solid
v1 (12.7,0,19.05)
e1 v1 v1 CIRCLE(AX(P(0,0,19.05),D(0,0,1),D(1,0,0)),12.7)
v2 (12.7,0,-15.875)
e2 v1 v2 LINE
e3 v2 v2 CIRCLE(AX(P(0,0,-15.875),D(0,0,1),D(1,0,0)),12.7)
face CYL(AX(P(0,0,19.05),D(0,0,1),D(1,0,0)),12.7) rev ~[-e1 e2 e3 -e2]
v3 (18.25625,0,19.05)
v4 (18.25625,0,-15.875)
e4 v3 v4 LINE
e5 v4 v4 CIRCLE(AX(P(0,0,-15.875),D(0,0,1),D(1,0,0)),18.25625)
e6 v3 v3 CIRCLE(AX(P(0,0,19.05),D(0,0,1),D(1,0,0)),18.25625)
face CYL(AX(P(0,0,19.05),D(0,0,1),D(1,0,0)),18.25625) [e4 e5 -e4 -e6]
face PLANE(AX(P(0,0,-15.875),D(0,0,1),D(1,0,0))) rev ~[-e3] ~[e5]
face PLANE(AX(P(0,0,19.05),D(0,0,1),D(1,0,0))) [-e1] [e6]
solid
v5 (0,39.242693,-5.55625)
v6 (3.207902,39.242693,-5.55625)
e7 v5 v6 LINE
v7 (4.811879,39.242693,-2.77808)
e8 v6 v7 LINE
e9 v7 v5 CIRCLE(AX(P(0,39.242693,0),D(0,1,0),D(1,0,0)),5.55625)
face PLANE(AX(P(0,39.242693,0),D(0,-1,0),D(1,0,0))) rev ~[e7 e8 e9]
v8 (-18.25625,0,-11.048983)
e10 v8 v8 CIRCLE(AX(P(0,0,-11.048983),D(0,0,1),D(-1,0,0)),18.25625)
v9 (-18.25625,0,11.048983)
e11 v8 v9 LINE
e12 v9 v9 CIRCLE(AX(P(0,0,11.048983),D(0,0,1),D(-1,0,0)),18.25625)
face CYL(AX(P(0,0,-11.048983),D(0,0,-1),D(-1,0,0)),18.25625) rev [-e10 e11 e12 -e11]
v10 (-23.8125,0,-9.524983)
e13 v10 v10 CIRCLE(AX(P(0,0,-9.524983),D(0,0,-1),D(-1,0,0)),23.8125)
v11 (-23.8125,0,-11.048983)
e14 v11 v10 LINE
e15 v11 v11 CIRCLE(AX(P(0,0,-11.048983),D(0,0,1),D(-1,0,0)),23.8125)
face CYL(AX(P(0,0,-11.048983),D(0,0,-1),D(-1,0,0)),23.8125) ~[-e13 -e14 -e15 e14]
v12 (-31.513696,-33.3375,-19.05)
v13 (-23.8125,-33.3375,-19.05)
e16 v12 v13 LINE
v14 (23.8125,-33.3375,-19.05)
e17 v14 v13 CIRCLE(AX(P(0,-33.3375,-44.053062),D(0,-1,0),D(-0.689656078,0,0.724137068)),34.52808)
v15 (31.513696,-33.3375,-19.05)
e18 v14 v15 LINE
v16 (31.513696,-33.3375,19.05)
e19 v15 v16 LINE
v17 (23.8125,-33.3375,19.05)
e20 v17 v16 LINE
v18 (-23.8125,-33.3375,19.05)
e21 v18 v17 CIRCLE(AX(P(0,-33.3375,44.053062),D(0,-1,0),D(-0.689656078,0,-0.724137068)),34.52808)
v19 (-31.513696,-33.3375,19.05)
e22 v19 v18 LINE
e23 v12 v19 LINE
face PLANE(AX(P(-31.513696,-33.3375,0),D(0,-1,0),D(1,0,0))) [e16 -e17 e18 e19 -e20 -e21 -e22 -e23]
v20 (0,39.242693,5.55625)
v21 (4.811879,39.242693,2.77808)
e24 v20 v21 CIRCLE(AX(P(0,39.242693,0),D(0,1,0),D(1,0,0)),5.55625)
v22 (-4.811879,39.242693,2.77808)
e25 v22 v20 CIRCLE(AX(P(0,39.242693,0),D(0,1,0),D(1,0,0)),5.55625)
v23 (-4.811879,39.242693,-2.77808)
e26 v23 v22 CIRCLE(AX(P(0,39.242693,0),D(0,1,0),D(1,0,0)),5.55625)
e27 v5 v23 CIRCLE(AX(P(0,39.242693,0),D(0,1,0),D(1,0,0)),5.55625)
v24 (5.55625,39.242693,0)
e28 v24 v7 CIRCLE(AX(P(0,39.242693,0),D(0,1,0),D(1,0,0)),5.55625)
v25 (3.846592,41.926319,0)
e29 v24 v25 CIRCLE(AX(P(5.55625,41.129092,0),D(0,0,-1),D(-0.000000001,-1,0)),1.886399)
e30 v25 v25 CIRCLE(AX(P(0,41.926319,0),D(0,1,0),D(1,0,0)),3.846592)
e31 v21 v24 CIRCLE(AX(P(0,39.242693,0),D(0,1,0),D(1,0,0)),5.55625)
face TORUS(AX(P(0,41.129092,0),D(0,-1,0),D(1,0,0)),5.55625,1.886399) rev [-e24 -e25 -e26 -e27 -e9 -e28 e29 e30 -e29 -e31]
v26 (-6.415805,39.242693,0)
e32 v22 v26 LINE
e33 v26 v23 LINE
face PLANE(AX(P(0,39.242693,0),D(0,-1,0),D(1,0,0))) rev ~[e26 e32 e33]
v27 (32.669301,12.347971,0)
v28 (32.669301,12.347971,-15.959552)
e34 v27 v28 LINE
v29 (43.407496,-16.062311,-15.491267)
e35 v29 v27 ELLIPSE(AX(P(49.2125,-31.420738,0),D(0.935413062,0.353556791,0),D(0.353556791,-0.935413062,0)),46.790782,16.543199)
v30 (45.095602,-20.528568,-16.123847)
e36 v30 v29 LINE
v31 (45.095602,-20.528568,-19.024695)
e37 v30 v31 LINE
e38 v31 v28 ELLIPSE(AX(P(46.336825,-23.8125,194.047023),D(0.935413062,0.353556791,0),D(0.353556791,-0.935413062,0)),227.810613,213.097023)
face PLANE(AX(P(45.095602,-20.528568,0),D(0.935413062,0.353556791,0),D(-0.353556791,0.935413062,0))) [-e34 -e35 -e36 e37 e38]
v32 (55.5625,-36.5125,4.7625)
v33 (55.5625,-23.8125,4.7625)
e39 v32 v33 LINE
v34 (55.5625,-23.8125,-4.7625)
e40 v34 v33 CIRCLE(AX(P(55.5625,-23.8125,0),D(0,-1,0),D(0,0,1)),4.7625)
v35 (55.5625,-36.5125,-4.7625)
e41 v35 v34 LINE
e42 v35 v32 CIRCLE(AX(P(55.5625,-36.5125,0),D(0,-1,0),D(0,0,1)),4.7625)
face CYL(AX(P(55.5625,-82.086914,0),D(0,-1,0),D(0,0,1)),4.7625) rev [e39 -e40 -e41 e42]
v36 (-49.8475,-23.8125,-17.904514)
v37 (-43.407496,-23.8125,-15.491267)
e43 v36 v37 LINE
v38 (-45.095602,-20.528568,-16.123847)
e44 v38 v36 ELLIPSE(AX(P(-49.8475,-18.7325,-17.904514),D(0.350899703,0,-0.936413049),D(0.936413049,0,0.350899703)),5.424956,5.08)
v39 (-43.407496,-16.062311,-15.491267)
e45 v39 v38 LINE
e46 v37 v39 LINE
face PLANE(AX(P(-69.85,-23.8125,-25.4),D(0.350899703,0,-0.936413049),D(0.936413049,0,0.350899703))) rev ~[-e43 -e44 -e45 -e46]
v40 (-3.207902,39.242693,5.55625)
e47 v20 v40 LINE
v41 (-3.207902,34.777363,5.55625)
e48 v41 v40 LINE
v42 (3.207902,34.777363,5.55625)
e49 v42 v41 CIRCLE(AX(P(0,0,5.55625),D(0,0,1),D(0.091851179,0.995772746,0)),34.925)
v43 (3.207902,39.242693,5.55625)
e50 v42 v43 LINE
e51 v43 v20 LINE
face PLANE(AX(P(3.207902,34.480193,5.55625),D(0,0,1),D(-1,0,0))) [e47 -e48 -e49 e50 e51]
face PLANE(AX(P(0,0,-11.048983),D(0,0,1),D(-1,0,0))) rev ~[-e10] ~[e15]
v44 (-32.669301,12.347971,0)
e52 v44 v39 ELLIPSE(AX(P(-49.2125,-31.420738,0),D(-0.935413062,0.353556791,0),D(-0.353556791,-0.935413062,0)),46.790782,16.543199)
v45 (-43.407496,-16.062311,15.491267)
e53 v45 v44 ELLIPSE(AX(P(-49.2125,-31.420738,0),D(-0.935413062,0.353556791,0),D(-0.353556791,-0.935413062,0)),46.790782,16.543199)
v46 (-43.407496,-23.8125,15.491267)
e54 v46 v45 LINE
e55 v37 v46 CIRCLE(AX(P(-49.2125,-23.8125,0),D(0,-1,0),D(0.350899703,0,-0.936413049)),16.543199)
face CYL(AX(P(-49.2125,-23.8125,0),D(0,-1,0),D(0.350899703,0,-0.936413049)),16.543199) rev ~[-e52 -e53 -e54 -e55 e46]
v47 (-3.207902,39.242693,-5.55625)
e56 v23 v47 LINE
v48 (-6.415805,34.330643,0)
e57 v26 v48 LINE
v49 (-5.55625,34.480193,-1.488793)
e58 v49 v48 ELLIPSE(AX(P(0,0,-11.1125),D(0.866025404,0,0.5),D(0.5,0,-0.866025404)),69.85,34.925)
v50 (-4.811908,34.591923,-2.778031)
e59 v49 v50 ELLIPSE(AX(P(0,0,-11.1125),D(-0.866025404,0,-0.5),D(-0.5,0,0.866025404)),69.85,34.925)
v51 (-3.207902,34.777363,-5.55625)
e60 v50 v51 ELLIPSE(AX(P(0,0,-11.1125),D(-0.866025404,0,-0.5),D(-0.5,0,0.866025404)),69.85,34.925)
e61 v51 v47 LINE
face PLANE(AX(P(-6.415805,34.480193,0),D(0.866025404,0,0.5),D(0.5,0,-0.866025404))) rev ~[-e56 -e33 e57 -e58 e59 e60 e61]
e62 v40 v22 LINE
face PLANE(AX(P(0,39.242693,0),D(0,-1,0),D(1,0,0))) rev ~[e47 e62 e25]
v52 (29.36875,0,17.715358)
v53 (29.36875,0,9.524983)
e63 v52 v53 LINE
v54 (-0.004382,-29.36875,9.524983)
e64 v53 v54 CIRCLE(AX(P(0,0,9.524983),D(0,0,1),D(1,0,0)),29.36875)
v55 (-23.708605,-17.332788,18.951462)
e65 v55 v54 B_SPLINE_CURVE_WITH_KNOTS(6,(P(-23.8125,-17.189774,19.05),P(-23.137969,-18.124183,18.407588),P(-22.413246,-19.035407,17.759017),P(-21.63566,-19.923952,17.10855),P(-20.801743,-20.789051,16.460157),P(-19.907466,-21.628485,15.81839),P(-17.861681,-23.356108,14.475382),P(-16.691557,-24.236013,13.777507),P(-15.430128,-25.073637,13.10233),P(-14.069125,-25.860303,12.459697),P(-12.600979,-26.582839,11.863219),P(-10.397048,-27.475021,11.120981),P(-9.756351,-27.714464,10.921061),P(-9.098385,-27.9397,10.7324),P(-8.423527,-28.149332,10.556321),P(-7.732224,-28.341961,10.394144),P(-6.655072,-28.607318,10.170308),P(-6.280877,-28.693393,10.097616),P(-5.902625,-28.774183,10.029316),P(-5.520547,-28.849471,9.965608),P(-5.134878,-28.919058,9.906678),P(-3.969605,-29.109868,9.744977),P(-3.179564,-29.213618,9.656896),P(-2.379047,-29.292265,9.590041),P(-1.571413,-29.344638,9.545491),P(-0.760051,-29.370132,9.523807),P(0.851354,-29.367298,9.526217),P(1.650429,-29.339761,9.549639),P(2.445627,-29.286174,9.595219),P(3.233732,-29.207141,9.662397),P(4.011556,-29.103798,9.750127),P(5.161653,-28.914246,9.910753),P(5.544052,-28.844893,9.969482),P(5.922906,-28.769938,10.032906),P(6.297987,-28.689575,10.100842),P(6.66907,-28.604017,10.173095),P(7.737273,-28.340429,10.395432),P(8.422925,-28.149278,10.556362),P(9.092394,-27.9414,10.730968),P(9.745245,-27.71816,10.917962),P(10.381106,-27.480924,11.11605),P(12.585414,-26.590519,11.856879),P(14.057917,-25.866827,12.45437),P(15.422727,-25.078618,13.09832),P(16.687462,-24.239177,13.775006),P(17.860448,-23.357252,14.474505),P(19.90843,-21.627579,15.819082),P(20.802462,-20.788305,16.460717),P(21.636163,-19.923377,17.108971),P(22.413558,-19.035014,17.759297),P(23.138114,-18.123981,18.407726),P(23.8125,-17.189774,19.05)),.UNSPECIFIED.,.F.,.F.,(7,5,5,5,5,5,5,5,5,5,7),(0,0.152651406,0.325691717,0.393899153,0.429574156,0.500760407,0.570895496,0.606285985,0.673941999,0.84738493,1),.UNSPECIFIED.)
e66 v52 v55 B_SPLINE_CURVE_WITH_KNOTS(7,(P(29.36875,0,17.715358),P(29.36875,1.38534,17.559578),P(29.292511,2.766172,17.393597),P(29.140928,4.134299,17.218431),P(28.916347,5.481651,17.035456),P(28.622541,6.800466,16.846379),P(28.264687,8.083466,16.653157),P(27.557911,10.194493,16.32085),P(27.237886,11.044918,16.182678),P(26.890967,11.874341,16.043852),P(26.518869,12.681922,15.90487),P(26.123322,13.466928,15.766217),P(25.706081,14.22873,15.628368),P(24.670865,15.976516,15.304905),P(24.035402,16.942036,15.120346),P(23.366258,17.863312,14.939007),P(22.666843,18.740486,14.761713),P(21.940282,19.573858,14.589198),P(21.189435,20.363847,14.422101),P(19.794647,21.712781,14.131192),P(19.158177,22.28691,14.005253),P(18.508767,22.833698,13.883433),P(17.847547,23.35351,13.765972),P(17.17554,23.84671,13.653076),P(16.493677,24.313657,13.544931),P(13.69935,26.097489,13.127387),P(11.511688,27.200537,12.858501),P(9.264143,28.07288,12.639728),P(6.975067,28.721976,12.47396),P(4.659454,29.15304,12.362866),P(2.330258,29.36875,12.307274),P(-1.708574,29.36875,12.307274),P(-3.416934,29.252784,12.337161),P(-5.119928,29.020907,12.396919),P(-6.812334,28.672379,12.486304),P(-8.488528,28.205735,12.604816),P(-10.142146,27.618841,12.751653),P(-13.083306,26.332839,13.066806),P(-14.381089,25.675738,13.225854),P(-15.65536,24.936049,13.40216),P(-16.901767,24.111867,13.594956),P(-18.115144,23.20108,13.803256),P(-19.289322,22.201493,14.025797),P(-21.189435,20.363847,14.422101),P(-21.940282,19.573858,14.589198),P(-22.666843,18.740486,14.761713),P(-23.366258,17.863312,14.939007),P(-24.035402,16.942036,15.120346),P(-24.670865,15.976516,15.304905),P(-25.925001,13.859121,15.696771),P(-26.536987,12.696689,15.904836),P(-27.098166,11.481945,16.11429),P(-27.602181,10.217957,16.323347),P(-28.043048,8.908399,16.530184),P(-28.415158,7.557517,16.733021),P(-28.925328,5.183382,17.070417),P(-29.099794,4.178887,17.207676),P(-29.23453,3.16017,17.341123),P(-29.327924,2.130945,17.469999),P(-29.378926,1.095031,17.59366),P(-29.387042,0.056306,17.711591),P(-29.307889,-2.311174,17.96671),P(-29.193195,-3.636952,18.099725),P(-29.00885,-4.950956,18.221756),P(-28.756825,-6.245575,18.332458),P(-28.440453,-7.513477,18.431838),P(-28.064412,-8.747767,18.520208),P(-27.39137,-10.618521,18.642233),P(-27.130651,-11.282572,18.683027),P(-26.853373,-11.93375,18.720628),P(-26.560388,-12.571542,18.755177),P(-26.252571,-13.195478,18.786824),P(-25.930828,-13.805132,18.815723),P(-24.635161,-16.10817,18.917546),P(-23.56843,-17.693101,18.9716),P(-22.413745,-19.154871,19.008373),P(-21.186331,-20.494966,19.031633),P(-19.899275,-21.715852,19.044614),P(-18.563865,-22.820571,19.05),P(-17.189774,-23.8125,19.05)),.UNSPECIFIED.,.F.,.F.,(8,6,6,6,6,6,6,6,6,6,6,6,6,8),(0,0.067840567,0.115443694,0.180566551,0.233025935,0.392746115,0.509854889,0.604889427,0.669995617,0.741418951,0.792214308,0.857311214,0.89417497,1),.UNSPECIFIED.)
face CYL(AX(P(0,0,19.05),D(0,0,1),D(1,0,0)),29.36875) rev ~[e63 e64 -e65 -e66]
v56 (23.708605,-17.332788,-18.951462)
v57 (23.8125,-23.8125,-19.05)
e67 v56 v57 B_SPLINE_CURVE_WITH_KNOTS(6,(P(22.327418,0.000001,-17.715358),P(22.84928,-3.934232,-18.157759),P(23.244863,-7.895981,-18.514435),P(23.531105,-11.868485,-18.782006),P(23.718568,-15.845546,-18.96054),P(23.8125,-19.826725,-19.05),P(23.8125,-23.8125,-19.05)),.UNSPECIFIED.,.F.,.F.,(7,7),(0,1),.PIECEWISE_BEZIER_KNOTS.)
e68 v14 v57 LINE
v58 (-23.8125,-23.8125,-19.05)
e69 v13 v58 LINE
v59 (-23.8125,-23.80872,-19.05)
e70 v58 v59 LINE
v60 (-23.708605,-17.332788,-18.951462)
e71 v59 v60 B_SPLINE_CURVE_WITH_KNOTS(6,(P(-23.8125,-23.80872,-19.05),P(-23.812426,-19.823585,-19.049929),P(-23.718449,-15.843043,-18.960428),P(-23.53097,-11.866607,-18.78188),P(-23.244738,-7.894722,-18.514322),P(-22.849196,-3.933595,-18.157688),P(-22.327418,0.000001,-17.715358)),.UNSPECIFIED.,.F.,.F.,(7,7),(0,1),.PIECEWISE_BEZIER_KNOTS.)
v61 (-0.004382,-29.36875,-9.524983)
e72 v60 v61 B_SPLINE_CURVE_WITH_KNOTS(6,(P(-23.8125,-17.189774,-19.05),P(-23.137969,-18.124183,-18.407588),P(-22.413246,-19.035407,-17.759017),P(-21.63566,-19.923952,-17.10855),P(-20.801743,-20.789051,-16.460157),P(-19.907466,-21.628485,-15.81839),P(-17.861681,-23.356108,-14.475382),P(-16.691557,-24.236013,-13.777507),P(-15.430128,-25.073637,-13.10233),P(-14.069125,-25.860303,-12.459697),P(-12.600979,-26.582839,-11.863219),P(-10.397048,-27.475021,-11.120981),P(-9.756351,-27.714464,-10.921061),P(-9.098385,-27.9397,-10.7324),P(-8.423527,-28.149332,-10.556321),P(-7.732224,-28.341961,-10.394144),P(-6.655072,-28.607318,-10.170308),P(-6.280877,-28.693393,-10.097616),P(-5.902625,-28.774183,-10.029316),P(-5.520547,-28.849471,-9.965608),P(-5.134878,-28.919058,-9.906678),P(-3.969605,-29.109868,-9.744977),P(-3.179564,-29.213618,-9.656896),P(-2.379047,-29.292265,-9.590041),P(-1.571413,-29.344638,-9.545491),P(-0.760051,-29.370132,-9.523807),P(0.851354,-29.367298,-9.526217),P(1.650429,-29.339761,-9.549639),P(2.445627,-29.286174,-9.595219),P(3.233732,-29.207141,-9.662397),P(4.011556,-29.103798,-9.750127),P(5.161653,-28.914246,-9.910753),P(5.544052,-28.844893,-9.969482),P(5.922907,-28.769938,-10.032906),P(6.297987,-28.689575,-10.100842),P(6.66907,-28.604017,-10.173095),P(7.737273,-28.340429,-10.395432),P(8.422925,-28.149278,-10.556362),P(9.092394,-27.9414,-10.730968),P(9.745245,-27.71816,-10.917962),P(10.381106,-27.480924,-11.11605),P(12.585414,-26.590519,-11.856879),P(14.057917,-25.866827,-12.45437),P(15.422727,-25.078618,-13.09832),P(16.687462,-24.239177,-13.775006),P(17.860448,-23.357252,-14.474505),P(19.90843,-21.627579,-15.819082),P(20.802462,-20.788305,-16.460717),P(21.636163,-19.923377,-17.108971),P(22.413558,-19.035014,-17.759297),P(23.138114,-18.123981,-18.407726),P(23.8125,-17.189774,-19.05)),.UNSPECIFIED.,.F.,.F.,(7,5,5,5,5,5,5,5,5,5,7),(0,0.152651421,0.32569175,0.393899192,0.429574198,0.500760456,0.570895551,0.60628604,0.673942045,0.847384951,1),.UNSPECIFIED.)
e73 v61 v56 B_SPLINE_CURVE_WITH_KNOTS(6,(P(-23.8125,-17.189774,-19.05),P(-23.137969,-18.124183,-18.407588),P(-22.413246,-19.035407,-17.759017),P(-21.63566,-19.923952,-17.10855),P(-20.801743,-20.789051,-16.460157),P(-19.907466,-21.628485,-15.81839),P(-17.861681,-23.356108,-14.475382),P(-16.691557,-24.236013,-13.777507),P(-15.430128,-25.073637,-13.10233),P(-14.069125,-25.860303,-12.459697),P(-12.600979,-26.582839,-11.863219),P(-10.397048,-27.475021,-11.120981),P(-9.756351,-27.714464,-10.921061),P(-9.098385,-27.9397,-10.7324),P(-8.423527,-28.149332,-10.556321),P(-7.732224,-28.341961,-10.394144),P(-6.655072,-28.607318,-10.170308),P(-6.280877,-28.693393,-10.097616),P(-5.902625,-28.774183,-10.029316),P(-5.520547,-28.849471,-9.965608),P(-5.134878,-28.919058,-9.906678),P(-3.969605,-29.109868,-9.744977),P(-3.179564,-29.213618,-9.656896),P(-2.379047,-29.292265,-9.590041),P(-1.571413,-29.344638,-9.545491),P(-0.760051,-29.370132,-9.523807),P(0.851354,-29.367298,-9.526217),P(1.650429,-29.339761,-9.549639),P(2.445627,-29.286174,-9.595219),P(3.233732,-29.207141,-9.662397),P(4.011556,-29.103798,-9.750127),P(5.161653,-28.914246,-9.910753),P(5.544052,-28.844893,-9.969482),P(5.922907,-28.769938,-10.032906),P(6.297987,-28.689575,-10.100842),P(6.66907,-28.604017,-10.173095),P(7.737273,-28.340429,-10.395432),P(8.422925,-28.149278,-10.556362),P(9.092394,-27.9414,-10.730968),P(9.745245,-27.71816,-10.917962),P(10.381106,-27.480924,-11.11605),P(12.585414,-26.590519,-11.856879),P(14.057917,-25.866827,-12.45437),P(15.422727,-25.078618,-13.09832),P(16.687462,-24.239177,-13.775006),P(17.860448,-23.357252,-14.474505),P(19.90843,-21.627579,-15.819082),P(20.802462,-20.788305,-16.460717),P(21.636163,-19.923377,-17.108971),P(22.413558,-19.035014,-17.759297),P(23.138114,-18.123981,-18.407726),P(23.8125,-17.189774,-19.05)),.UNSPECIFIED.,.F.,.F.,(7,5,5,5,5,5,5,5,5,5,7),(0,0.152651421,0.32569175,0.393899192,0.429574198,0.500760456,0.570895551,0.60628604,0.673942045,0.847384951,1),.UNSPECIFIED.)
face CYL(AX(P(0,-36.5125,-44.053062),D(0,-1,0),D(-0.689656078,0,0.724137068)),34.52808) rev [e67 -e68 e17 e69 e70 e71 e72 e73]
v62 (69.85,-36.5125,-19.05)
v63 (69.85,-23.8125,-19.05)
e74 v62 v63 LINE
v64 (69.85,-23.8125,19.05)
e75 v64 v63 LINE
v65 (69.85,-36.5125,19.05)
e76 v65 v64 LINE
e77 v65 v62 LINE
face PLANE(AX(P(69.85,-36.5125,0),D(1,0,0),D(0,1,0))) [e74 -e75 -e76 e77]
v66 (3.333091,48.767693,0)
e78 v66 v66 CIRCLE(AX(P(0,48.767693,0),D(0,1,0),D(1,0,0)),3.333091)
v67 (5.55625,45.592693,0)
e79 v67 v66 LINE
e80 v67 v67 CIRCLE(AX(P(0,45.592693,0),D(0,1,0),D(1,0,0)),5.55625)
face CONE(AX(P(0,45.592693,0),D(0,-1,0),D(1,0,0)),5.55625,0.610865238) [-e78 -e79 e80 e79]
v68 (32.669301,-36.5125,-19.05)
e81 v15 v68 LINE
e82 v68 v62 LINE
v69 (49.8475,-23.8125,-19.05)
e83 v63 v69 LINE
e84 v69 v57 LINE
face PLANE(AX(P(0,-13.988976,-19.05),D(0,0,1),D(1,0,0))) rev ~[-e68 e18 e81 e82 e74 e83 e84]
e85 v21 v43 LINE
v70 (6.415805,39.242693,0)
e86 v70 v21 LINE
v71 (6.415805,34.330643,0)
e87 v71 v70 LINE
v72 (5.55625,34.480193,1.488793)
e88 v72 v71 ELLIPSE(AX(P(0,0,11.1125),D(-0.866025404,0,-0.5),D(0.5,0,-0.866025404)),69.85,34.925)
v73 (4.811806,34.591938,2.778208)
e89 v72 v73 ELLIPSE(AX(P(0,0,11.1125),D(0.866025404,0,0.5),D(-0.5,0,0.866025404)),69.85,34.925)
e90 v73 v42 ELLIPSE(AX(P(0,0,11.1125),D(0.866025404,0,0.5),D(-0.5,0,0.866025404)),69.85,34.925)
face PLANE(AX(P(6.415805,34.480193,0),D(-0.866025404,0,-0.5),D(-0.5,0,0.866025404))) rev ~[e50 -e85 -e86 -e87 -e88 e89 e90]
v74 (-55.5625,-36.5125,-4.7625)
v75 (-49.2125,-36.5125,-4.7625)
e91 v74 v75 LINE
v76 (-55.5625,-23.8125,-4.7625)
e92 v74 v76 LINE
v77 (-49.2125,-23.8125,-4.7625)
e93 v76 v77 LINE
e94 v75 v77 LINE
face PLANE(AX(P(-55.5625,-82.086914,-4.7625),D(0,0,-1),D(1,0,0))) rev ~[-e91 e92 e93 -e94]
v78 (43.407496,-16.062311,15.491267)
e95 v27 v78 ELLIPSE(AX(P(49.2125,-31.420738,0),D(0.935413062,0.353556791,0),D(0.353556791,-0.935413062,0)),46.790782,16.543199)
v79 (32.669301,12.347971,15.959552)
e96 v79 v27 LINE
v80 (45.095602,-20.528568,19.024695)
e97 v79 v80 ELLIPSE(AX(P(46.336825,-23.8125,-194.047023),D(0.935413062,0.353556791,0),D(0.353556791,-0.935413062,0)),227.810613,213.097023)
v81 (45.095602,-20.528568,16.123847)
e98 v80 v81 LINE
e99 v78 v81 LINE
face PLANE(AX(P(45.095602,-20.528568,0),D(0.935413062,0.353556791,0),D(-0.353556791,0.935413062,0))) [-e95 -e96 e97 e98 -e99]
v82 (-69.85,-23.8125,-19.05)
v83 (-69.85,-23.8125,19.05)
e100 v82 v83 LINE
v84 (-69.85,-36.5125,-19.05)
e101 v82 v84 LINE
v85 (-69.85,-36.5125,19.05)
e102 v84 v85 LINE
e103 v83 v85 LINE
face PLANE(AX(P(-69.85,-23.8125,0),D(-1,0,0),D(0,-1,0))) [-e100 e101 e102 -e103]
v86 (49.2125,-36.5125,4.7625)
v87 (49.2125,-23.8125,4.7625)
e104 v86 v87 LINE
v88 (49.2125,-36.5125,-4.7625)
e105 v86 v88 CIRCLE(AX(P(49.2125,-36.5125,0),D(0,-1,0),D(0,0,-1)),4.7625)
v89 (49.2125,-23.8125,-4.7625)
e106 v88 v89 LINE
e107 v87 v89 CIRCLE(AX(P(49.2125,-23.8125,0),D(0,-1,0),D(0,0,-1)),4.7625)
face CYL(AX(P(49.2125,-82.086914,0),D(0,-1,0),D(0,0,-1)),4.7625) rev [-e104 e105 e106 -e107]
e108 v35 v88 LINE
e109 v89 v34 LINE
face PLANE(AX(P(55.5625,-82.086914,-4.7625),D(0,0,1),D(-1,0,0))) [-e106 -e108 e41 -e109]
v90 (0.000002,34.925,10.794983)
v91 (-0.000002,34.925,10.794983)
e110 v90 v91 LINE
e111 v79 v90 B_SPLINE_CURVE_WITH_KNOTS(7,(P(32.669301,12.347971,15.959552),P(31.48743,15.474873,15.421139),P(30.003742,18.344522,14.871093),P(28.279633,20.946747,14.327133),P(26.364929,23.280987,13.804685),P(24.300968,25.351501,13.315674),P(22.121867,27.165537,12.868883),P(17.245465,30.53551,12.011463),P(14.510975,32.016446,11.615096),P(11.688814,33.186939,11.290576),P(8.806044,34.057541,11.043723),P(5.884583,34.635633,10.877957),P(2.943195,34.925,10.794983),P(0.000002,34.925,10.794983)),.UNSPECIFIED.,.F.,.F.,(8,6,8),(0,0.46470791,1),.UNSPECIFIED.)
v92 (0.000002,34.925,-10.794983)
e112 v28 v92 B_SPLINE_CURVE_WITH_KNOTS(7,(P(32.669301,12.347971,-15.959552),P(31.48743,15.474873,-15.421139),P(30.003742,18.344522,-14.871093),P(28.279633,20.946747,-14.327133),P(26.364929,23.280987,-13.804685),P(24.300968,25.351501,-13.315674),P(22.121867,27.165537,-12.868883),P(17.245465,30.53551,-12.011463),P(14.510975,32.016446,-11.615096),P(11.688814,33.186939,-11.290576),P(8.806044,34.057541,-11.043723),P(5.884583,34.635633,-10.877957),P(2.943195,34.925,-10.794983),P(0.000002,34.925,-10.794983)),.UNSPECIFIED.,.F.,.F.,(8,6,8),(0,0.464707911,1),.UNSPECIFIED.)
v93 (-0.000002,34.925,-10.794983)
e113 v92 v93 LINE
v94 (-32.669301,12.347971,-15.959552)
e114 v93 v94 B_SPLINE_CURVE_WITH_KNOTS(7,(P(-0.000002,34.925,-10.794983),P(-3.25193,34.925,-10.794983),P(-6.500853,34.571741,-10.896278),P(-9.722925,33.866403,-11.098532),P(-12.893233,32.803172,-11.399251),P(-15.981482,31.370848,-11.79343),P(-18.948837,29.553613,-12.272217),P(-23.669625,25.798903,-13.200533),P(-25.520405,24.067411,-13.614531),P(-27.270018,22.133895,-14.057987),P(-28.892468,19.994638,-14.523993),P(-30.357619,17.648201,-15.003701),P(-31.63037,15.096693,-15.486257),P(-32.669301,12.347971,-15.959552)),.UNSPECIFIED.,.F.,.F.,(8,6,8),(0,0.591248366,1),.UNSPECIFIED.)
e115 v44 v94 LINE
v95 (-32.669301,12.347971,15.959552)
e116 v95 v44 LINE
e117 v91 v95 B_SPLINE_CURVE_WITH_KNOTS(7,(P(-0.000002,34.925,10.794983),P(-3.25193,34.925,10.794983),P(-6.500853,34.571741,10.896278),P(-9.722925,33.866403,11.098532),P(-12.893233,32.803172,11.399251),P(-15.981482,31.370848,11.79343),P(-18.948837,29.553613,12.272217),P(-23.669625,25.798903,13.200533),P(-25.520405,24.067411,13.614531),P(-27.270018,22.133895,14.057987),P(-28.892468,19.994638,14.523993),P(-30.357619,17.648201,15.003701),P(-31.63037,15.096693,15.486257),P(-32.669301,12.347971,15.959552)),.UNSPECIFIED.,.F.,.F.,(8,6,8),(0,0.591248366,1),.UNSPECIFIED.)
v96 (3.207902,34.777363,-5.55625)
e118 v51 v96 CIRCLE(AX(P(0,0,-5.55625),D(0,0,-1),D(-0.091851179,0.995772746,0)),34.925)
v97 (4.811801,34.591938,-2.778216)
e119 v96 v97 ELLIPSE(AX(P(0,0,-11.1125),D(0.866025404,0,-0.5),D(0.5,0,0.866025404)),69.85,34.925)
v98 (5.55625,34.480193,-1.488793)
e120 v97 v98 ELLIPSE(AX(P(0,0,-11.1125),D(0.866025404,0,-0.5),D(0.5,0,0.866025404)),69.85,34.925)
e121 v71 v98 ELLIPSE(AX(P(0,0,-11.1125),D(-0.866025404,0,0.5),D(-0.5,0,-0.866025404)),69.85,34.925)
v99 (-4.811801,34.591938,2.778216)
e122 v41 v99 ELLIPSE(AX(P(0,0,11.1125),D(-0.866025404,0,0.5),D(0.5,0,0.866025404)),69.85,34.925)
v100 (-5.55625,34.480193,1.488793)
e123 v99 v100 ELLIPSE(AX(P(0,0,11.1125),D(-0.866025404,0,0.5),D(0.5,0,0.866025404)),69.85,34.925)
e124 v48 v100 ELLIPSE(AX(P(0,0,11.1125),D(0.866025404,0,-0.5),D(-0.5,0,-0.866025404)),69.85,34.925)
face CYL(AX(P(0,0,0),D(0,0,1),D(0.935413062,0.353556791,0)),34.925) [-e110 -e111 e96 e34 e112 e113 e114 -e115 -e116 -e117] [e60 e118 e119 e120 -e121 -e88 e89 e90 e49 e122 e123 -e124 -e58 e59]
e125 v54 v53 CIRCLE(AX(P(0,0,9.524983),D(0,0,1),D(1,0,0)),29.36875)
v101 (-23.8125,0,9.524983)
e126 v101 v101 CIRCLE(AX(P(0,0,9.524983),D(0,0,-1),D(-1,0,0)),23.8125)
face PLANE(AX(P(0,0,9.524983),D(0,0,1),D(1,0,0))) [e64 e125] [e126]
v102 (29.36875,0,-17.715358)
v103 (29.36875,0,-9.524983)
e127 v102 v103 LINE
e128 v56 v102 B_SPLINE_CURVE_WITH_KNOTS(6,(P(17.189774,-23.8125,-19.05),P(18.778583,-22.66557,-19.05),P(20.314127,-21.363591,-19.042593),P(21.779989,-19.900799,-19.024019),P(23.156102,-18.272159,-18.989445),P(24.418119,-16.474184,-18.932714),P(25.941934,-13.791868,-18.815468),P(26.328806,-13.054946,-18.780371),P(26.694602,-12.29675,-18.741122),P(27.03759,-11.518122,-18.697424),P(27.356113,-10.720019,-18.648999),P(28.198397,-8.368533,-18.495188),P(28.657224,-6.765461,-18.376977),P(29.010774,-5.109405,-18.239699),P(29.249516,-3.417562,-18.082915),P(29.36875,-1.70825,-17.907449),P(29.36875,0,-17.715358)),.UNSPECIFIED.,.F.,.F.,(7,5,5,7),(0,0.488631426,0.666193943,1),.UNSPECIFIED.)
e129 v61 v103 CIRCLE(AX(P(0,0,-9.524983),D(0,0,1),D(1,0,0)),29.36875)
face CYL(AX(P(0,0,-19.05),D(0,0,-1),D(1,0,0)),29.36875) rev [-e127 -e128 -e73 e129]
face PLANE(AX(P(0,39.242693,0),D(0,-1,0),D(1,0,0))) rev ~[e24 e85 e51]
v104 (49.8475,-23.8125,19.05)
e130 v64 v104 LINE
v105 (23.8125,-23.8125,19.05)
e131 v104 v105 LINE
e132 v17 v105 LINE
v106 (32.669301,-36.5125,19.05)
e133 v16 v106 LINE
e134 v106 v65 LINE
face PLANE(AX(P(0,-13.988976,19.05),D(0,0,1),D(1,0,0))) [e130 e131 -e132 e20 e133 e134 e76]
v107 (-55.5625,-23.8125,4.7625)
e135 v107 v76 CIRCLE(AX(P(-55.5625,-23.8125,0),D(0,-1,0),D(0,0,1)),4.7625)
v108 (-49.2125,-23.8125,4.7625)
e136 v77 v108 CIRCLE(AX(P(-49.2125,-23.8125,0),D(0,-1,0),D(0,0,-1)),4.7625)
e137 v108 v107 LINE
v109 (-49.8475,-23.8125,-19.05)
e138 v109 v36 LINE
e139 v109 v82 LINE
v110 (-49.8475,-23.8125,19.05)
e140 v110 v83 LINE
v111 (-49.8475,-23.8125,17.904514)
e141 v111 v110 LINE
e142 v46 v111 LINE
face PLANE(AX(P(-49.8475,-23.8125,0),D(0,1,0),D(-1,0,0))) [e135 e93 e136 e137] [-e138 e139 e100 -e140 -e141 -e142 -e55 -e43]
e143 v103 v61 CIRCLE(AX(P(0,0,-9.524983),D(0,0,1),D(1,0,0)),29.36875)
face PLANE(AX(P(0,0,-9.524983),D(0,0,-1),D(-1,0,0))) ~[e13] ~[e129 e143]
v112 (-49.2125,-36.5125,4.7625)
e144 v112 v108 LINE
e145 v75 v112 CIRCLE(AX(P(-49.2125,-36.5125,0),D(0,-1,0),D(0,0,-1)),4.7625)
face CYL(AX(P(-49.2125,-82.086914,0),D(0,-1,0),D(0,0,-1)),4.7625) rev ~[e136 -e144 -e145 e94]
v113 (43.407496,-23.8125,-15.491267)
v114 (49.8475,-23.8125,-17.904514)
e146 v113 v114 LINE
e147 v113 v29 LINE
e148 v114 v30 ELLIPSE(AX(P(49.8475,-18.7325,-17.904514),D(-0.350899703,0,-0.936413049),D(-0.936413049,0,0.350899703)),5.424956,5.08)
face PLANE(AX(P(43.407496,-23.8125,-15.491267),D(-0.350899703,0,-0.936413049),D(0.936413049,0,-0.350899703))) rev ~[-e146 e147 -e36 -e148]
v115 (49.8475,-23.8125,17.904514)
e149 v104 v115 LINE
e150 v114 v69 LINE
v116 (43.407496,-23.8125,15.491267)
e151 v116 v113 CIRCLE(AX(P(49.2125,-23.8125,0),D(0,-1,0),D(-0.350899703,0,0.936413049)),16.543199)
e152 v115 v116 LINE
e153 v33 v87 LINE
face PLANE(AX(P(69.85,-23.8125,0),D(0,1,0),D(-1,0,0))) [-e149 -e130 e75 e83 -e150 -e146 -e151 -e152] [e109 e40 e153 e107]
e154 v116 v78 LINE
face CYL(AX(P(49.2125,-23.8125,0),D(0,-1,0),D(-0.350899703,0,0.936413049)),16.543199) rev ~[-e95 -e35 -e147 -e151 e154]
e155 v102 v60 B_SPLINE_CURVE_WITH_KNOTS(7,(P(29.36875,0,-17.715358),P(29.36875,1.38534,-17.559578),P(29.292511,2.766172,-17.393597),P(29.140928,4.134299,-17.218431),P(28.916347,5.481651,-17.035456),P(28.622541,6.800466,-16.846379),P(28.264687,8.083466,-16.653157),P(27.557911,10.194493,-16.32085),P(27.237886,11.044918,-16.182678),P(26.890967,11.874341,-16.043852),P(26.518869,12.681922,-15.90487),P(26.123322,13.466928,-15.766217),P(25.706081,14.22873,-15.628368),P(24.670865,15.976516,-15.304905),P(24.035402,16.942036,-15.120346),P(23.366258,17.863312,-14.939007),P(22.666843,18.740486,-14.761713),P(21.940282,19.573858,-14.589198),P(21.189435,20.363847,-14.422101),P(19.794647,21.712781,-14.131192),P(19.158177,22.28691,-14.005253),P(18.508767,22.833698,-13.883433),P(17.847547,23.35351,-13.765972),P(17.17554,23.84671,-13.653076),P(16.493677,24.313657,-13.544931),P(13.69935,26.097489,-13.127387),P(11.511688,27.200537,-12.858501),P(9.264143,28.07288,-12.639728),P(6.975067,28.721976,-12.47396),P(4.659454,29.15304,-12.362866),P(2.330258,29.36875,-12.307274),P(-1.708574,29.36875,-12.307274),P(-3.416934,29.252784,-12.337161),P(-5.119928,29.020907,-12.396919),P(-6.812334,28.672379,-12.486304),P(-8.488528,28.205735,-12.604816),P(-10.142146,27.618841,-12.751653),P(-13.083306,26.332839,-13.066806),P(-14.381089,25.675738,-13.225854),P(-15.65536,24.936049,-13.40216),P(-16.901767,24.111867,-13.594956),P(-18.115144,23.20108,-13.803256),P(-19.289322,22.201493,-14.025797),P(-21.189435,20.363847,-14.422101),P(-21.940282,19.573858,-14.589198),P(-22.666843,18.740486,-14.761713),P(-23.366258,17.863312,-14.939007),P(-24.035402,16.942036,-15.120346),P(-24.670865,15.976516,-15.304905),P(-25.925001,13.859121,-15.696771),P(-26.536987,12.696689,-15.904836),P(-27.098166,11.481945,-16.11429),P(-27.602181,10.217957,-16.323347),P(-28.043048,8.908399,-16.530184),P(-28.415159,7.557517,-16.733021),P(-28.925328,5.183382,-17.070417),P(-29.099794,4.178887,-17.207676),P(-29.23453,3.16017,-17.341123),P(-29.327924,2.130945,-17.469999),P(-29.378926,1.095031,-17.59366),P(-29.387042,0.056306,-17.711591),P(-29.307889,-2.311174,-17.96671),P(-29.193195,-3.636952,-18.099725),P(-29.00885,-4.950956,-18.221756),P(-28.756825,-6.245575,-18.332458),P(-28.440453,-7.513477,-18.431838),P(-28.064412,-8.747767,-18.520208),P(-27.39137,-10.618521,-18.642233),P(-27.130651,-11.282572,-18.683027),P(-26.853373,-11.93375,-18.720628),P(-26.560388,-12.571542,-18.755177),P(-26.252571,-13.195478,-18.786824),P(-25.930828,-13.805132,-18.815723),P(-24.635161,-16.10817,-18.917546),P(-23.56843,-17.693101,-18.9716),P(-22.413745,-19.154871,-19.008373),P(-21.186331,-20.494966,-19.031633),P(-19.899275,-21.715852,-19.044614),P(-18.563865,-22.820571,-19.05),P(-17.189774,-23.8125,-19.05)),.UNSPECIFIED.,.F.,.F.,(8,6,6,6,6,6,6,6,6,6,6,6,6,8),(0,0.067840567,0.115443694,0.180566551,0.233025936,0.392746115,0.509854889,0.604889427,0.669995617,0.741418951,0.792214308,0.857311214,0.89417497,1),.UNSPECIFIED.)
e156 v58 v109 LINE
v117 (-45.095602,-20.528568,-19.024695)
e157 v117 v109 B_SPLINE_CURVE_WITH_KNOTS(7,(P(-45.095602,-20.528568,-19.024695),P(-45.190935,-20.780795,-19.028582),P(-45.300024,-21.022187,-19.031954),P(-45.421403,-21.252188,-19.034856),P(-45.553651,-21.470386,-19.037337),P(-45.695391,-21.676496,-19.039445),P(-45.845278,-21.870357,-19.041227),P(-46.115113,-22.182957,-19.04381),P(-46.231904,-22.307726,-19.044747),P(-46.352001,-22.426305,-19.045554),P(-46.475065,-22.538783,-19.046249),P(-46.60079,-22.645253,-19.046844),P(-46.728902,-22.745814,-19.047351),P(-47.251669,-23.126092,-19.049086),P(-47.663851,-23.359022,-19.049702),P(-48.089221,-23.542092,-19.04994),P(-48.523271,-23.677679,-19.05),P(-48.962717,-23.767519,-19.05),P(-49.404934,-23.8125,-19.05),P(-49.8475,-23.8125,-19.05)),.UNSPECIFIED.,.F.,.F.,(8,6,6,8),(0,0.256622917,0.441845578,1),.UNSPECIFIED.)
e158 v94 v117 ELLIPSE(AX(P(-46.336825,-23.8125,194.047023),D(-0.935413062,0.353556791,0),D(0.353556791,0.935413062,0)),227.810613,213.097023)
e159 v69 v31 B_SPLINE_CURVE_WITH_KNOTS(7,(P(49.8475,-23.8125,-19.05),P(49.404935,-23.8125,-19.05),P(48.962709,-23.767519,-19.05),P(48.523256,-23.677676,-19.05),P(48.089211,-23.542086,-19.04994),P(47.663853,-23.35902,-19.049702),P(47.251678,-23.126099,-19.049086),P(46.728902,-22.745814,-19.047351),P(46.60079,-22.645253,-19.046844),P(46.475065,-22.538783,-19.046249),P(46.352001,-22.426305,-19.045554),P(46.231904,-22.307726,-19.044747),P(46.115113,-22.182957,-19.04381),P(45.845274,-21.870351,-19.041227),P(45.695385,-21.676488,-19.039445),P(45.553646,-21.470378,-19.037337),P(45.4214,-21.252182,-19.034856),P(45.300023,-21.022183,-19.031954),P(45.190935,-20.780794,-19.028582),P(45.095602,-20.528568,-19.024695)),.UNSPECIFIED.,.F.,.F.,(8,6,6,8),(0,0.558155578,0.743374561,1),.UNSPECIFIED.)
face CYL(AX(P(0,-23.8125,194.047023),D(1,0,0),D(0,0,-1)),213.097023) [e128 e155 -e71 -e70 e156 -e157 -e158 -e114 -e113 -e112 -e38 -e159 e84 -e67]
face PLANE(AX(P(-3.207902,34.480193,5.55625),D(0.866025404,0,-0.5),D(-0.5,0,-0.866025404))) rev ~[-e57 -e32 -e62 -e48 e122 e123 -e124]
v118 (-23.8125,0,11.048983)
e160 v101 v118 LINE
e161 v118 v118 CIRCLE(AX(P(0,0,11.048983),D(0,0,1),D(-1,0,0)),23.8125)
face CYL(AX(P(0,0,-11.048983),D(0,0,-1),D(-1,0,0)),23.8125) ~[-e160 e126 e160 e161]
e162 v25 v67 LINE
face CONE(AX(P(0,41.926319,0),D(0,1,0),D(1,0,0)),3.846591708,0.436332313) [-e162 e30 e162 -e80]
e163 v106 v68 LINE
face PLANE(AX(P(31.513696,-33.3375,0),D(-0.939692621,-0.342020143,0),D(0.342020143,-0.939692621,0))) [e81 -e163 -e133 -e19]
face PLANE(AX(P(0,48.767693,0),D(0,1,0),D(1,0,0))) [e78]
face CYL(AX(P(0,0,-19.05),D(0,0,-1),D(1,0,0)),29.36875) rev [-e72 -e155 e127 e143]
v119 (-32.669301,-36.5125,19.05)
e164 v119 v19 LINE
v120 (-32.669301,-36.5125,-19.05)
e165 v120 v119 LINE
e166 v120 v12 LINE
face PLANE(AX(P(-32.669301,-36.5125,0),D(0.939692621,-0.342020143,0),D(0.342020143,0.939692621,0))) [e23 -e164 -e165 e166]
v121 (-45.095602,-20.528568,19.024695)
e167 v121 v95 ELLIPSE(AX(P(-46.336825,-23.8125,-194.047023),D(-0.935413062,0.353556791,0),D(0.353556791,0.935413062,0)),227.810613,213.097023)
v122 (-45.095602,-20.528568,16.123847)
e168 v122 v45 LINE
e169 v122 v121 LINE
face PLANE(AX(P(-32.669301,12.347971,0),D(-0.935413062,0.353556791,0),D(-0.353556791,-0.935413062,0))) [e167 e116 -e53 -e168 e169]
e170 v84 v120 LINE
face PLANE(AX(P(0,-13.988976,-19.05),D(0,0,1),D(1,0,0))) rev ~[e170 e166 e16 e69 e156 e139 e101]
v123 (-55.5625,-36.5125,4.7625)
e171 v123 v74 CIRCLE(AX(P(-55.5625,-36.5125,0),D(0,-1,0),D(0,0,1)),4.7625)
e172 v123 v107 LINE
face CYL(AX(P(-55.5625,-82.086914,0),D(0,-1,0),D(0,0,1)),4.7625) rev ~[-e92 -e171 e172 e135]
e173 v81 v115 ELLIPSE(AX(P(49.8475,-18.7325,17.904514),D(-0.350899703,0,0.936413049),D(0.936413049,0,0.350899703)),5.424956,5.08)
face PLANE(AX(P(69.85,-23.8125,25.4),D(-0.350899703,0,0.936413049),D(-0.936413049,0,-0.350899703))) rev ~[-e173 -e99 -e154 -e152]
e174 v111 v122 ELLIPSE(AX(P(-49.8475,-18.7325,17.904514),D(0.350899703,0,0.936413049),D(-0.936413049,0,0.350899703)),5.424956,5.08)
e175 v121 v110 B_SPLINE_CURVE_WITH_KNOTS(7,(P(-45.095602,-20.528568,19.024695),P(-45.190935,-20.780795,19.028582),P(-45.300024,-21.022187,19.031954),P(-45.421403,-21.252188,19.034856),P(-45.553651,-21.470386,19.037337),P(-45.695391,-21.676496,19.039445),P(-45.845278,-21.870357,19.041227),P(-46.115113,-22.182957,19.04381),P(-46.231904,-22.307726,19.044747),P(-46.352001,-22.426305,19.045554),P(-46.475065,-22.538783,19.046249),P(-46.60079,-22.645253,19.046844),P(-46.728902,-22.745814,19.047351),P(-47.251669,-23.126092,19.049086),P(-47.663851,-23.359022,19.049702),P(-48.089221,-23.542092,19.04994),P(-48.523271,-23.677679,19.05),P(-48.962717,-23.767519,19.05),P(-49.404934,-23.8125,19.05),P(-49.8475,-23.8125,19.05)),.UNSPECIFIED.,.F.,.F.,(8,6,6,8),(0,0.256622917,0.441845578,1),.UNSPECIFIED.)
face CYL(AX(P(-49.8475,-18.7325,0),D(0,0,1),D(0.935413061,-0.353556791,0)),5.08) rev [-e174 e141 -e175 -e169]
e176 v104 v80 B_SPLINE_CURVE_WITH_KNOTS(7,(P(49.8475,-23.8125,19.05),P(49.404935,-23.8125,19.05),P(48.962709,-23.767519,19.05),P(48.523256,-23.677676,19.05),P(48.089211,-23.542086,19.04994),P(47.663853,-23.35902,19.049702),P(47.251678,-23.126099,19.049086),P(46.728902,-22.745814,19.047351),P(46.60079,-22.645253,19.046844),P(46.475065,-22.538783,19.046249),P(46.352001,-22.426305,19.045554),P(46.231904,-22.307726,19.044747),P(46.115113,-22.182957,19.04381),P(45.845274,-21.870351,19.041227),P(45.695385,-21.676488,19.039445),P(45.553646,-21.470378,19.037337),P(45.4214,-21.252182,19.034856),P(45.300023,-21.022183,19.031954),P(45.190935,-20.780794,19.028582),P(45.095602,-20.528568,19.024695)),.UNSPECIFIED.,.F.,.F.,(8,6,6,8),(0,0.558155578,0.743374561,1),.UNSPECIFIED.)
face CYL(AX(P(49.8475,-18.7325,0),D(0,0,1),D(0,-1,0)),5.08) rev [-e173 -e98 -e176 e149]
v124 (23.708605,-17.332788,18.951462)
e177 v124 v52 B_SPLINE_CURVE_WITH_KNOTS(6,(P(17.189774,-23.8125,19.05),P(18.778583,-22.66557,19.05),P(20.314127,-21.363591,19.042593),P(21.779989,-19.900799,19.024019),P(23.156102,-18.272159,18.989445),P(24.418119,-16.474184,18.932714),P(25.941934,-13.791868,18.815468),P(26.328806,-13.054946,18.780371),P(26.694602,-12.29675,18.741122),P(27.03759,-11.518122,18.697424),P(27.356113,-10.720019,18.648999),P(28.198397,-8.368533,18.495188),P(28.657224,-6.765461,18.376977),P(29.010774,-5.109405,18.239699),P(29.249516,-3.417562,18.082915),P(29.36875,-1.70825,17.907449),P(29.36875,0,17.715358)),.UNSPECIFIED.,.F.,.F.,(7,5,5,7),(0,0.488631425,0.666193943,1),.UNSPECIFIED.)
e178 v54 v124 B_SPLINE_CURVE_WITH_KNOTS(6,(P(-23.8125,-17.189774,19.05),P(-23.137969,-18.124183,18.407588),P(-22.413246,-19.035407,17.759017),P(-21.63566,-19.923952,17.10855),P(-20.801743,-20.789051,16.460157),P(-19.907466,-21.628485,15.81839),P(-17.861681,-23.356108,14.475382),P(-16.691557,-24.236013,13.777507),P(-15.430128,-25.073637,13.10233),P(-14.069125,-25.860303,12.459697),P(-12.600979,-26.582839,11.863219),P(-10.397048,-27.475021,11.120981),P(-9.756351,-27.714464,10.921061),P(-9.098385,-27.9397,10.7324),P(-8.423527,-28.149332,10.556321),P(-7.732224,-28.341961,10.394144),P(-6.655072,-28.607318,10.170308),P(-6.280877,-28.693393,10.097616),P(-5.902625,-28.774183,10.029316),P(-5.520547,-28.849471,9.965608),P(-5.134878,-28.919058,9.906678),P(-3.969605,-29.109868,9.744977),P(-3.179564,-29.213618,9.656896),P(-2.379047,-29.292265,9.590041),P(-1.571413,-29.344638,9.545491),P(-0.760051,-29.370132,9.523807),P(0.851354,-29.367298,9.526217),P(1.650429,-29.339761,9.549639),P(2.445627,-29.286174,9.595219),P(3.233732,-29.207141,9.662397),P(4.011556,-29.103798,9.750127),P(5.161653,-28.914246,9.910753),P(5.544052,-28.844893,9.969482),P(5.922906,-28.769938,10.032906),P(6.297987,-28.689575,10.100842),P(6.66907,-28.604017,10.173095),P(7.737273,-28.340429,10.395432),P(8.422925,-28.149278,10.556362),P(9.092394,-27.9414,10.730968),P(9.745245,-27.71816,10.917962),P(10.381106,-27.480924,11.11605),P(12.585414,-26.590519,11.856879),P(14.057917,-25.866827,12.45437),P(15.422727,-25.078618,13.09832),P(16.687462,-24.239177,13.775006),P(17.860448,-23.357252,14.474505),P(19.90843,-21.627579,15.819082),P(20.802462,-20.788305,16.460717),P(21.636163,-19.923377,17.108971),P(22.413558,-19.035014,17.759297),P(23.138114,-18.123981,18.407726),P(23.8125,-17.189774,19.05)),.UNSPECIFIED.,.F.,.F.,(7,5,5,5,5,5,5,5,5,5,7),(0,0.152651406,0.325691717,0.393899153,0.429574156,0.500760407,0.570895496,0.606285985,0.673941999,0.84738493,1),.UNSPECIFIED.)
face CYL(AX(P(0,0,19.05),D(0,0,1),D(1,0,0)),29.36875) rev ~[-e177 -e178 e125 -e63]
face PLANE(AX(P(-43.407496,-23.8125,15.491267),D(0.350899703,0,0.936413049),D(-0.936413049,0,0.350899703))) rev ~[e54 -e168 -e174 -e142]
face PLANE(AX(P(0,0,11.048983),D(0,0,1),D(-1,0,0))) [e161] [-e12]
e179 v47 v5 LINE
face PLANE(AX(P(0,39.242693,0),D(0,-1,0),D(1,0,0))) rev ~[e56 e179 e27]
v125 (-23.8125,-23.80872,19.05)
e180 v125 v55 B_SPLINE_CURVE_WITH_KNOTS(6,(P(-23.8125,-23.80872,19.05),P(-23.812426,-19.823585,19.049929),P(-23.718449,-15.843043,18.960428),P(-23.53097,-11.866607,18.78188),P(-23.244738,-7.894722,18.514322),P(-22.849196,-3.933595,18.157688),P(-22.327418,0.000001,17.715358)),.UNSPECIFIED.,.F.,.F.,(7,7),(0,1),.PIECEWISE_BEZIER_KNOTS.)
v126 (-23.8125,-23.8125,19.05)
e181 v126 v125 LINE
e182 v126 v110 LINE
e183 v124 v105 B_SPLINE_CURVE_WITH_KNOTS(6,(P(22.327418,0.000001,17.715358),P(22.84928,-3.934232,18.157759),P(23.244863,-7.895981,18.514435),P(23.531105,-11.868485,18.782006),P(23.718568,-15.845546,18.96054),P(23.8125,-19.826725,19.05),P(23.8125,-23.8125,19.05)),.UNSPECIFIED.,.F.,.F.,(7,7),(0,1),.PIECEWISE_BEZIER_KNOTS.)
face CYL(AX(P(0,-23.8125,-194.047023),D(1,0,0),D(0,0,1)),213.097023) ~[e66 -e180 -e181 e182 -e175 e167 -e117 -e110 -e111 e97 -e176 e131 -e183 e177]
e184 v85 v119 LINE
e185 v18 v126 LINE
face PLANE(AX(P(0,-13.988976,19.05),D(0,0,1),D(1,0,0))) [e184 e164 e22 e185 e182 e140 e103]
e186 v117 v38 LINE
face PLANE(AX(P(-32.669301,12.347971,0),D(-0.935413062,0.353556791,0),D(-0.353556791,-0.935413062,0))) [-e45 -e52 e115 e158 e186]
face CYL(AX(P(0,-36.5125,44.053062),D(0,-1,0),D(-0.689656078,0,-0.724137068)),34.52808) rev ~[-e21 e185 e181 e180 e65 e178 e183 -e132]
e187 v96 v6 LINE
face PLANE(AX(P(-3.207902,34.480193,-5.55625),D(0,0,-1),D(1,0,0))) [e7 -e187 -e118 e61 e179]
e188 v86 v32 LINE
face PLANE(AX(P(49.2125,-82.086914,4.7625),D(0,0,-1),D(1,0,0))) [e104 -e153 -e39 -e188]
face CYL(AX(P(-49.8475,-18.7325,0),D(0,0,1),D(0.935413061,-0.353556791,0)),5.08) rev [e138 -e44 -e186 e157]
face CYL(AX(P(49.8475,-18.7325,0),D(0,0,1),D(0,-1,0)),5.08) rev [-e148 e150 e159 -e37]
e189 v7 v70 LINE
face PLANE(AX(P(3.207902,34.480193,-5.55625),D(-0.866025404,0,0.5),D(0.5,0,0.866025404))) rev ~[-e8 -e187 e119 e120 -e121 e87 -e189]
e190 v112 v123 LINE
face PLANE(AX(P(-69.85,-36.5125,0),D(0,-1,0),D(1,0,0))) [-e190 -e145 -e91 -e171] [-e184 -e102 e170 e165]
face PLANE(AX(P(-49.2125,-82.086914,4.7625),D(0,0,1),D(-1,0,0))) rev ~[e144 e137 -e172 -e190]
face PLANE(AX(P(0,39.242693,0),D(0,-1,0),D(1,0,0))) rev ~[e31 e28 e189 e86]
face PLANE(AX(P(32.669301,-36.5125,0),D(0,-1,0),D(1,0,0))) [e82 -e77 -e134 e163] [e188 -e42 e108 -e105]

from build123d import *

# Parameters (mm, degrees)
SKETCH2_R                       = 18.25625
EXTRUDE2_DEPTH                  = 19.05
CUT_EXTRUDE1_DEPTH              = 82.086914211
CUT_EXTRUDE1_DEPTH_BACK         = 82.086914211
CUT_EXTRUDE2_START              = -23.8125
CUT_EXTRUDE2_DEPTH              = 36.160471
CUT_EXTRUDE3_DEPTH              = 82.086914211
SKETCH10_R                      = 29.36875
CUT_EXTRUDE5_DEPTH              = 9.525017
CUT_EXTRUDE4_DEPTH              = 36.5125
BOSS_EXTRUDE2_DEPTH             = 11.048983
BOSS_EXTRUDE2_DEPTH_BACK        = 11.048983
SKETCH11_R                      = 23.8125
SKETCH11_R_2                    = 18.25625
SKETCH8_R                       = 18.25625
SKETCH8_R_2                     = 12.7
BOSS_EXTRUDE1_DEPTH             = 34.925
EXTRUDE3_DEPTH                  = 4.7625
EXTRUDE3_DIRECTION_2_REACH      = 103.4
EXTRUDE3_DIRECTION_2_END_RADIUS = 34.925


with BuildPart() as part:
    # Sketch2 → Extrude2 (new, symmetric)
    with BuildSketch(Plane.XY):
        with BuildLine():
            Line((-32.669301174, 12.34797092), (-45.095601647, -20.528568497))
            ThreePointArc((-45.095601647, -20.528568497), (-46.95938885, -22.91164034), (-49.8475, -23.8125))
            Line((-49.8475, -23.8125), (-69.85, -23.8125))
            Line((-69.85, -23.8125), (-69.85, -36.5125))
            Line((-69.85, -36.5125), (-32.669301174, -36.5125))
            Line((-32.669301174, -36.5125), (-31.51369568, -33.3375))
            Line((-31.51369568, -33.3375), (31.51369568, -33.3375))
            Line((31.51369568, -33.3375), (32.669301174, -36.5125))
            Line((32.669301174, -36.5125), (69.85, -36.5125))
            Line((69.85, -36.5125), (69.85, -23.8125))
            Line((69.85, -23.8125), (49.8475, -23.8125))
            ThreePointArc((49.8475, -23.8125), (46.95938885, -22.91164034), (45.095601647, -20.528568497))
            Line((45.095601647, -20.528568497), (32.669301174, 12.34797092))
            ThreePointArc((32.669301174, 12.34797092), (0, 34.925), (-32.669301174, 12.34797092))
        make_face()
        with Locations(Location((0, 0, 0), (0, 0, 180))):
            Circle(SKETCH2_R, mode=Mode.SUBTRACT)
    extrude(amount=EXTRUDE2_DEPTH, both=True)

    # Sketch3 → Cut-Extrude1 (cut, two sides: drawn at the far end of the back side and taken through both)
    with BuildSketch(Plane(origin=(0, 0, 0), x_dir=(1, 0, 0), z_dir=(0, 1, 0)).offset(-CUT_EXTRUDE1_DEPTH_BACK)):
        with BuildLine():
            Line((-55.5625, 4.7625), (-49.2125, 4.7625))
            ThreePointArc((-49.2125, 4.7625), (-44.45, 0), (-49.2125, -4.7625))
            Line((-49.2125, -4.7625), (-55.5625, -4.7625))
            ThreePointArc((-55.5625, -4.7625), (-60.325, 0), (-55.5625, 4.7625))
        make_face()
        with BuildLine():
            Line((49.2125, -4.7625), (55.5625, -4.7625))
            ThreePointArc((55.5625, -4.7625), (60.325, 0), (55.5625, 4.7625))
            Line((55.5625, 4.7625), (49.2125, 4.7625))
            ThreePointArc((49.2125, 4.7625), (44.45, 0), (49.2125, -4.7625))
        make_face()
    extrude(amount=CUT_EXTRUDE1_DEPTH + CUT_EXTRUDE1_DEPTH_BACK, mode=Mode.SUBTRACT)

    # Sketch4 → Cut-Extrude2 (cut)
    with BuildSketch(Plane(origin=(0, 0, 0), x_dir=(1, 0, 0), z_dir=(0, 1, 0)).offset(CUT_EXTRUDE2_START)):
        with BuildLine():
            Line((43.407496446, 15.491267254), (69.85, 25.4))
            Line((69.85, 25.4), (69.85, -25.4))
            Line((69.85, -25.4), (43.407496446, -15.491267254))
            ThreePointArc((43.407496446, -15.491267254), (32.669301174, 0), (43.407496446, 15.491267254))
        make_face()
        with BuildLine():
            Line((-43.407496446, -15.491267254), (-69.85, -25.4))
            Line((-69.85, -25.4), (-69.85, 25.4))
            Line((-69.85, 25.4), (-43.407496446, 15.491267254))
            ThreePointArc((-43.407496446, 15.491267254), (-32.669301174, 0), (-43.407496446, -15.491267254))
        make_face()
    extrude(amount=CUT_EXTRUDE2_DEPTH, mode=Mode.SUBTRACT)

    # Sketch5 → Cut-Extrude3 (cut, symmetric)
    with BuildSketch(Plane(origin=(0, 0, 0), x_dir=(0, 0, -1), z_dir=(1, 0, 0))):
        with BuildLine():
            Line((-10.794982722, 34.925), (-19.05, 34.925))
            Line((-19.05, 34.925), (-19.05, -23.8125))
            ThreePointArc((-19.05, -23.8125), (-16.976154419, 5.84487352), (-10.794982722, 34.925))
        make_face()
    cut_extrude3 = extrude(amount=CUT_EXTRUDE3_DEPTH, both=True, mode=Mode.SUBTRACT)

    # Sketch10 → Cut-Extrude5 (cut)
    with BuildSketch(Plane.XY.offset(19.05)):
        Circle(SKETCH10_R)
    cut_extrude5 = extrude(amount=-CUT_EXTRUDE5_DEPTH, mode=Mode.SUBTRACT)

    # Mirror1: Cut-Extrude3, Cut-Extrude5 across plane
    add(cut_extrude3.mirror(Plane.XY), mode=Mode.SUBTRACT)
    add(cut_extrude5.mirror(Plane.XY), mode=Mode.SUBTRACT)

    # Sketch9 → Cut-Extrude4 (cut)
    with BuildSketch(Plane.XZ.offset(36.5125)):
        with BuildLine():
            Line((23.8125, 19.05), (-23.8125, 19.05))
            ThreePointArc((-23.8125, 19.05), (0, 9.524982722), (23.8125, 19.05))
        make_face()
        with BuildLine():
            Line((23.8125, -19.05), (-23.8125, -19.05))
            ThreePointArc((-23.8125, -19.05), (0, -9.524982722), (23.8125, -19.05))
        make_face()
    extrude(amount=-CUT_EXTRUDE4_DEPTH, mode=Mode.SUBTRACT)

    # Sketch11 → Boss-Extrude2 (add, two sides: drawn at the far end of the back side and taken through both)
    with BuildSketch(Plane.XY.offset(-BOSS_EXTRUDE2_DEPTH_BACK)):
        with Locations(Location((0, 0, 0), (0, 0, 180))):
            Circle(SKETCH11_R)
        with Locations(Location((0, 0, 0), (0, 0, 180))):
            Circle(SKETCH11_R_2, mode=Mode.SUBTRACT)
    extrude(amount=BOSS_EXTRUDE2_DEPTH + BOSS_EXTRUDE2_DEPTH_BACK)



with BuildPart() as body_2:
    # Sketch8 → Boss-Extrude1 (new body)
    with BuildSketch(Plane.XY.offset(19.05)):
        Circle(SKETCH8_R)
        Circle(SKETCH8_R_2, mode=Mode.SUBTRACT)
    extrude(amount=-BOSS_EXTRUDE1_DEPTH)


with BuildPart() as body_3:
    # Sketch6 → Revolve1 (revolve)
    with BuildSketch(Plane.XY, mode=Mode.PRIVATE) as revolve1_sk:
        with BuildLine():
            Line((0, 34.480193023), (-5.55625, 34.480193023))
            Line((-5.55625, 34.480193023), (-5.55625, 39.242693023))
            ThreePointArc((-5.55625, 39.242693023), (-3.965277045, 40.115530676), (-3.846591708, 41.926318986))
            Line((-3.846591708, 41.926318986), (-5.55625, 45.592693023))
            Line((-5.55625, 45.592693023), (-3.333091066, 48.767693023))
            Line((-3.333091066, 48.767693023), (0, 48.767693023))
            Line((0, 48.767693023), (0, 34.480193023))
        make_face()
    revolve(revolve1_sk.sketch.rotate(Axis((0, 34.925, 0), (0, 1, 0)), 180), axis=Axis((0, 34.925, 0), (0, 1, 0)))


with BuildPart() as part_1:
    add(part.part)

    add(body_3.part)  # Extrude3 merges body 3
    # Sketch7 → Extrude3 (add)
    with BuildSketch(Plane.XZ.offset(-34.480193023)):
        Polygon((-3.207902433, 5.55625), (-6.415804866, 0), (-3.207902433, -5.55625), (3.207902433, -5.55625), (6.415804866, 0), (3.207902433, 5.55625), align=None)
    extrude(amount=-EXTRUDE3_DEPTH)

    # Extrude3 direction 2: up to this cylinder (the profile starts outside it)
    extrude3_direction_2_end = Plane(origin=(0, 0, 0), z_dir=(0, 0, -1)) * Cylinder(EXTRUDE3_DIRECTION_2_END_RADIUS, 277.65, mode=Mode.PRIVATE)
    # Sketch7 → Extrude3 direction 2 (add, up to the surface)
    with BuildSketch(Plane.XZ.offset(-34.480193023), mode=Mode.PRIVATE) as extrude3_direction_2_sk1:
        Polygon((-3.207902433, 5.55625), (-6.415804866, 0), (-3.207902433, -5.55625), (3.207902433, -5.55625), (6.415804866, 0), (3.207902433, 5.55625), align=None)
    extrude3_direction_2_tool1 = extrude(extrude3_direction_2_sk1.sketch, amount=EXTRUDE3_DIRECTION_2_REACH, mode=Mode.PRIVATE) - extrude3_direction_2_end
    add(extrude3_direction_2_tool1.solids().sort_by_distance((0, 34.480193, 0))[0])
    add(extrude3_direction_2_tool1.solids().sort_by_distance((0, 34.480193, 0))[1])


solid = Compound([body_2.part, part_1.part])
